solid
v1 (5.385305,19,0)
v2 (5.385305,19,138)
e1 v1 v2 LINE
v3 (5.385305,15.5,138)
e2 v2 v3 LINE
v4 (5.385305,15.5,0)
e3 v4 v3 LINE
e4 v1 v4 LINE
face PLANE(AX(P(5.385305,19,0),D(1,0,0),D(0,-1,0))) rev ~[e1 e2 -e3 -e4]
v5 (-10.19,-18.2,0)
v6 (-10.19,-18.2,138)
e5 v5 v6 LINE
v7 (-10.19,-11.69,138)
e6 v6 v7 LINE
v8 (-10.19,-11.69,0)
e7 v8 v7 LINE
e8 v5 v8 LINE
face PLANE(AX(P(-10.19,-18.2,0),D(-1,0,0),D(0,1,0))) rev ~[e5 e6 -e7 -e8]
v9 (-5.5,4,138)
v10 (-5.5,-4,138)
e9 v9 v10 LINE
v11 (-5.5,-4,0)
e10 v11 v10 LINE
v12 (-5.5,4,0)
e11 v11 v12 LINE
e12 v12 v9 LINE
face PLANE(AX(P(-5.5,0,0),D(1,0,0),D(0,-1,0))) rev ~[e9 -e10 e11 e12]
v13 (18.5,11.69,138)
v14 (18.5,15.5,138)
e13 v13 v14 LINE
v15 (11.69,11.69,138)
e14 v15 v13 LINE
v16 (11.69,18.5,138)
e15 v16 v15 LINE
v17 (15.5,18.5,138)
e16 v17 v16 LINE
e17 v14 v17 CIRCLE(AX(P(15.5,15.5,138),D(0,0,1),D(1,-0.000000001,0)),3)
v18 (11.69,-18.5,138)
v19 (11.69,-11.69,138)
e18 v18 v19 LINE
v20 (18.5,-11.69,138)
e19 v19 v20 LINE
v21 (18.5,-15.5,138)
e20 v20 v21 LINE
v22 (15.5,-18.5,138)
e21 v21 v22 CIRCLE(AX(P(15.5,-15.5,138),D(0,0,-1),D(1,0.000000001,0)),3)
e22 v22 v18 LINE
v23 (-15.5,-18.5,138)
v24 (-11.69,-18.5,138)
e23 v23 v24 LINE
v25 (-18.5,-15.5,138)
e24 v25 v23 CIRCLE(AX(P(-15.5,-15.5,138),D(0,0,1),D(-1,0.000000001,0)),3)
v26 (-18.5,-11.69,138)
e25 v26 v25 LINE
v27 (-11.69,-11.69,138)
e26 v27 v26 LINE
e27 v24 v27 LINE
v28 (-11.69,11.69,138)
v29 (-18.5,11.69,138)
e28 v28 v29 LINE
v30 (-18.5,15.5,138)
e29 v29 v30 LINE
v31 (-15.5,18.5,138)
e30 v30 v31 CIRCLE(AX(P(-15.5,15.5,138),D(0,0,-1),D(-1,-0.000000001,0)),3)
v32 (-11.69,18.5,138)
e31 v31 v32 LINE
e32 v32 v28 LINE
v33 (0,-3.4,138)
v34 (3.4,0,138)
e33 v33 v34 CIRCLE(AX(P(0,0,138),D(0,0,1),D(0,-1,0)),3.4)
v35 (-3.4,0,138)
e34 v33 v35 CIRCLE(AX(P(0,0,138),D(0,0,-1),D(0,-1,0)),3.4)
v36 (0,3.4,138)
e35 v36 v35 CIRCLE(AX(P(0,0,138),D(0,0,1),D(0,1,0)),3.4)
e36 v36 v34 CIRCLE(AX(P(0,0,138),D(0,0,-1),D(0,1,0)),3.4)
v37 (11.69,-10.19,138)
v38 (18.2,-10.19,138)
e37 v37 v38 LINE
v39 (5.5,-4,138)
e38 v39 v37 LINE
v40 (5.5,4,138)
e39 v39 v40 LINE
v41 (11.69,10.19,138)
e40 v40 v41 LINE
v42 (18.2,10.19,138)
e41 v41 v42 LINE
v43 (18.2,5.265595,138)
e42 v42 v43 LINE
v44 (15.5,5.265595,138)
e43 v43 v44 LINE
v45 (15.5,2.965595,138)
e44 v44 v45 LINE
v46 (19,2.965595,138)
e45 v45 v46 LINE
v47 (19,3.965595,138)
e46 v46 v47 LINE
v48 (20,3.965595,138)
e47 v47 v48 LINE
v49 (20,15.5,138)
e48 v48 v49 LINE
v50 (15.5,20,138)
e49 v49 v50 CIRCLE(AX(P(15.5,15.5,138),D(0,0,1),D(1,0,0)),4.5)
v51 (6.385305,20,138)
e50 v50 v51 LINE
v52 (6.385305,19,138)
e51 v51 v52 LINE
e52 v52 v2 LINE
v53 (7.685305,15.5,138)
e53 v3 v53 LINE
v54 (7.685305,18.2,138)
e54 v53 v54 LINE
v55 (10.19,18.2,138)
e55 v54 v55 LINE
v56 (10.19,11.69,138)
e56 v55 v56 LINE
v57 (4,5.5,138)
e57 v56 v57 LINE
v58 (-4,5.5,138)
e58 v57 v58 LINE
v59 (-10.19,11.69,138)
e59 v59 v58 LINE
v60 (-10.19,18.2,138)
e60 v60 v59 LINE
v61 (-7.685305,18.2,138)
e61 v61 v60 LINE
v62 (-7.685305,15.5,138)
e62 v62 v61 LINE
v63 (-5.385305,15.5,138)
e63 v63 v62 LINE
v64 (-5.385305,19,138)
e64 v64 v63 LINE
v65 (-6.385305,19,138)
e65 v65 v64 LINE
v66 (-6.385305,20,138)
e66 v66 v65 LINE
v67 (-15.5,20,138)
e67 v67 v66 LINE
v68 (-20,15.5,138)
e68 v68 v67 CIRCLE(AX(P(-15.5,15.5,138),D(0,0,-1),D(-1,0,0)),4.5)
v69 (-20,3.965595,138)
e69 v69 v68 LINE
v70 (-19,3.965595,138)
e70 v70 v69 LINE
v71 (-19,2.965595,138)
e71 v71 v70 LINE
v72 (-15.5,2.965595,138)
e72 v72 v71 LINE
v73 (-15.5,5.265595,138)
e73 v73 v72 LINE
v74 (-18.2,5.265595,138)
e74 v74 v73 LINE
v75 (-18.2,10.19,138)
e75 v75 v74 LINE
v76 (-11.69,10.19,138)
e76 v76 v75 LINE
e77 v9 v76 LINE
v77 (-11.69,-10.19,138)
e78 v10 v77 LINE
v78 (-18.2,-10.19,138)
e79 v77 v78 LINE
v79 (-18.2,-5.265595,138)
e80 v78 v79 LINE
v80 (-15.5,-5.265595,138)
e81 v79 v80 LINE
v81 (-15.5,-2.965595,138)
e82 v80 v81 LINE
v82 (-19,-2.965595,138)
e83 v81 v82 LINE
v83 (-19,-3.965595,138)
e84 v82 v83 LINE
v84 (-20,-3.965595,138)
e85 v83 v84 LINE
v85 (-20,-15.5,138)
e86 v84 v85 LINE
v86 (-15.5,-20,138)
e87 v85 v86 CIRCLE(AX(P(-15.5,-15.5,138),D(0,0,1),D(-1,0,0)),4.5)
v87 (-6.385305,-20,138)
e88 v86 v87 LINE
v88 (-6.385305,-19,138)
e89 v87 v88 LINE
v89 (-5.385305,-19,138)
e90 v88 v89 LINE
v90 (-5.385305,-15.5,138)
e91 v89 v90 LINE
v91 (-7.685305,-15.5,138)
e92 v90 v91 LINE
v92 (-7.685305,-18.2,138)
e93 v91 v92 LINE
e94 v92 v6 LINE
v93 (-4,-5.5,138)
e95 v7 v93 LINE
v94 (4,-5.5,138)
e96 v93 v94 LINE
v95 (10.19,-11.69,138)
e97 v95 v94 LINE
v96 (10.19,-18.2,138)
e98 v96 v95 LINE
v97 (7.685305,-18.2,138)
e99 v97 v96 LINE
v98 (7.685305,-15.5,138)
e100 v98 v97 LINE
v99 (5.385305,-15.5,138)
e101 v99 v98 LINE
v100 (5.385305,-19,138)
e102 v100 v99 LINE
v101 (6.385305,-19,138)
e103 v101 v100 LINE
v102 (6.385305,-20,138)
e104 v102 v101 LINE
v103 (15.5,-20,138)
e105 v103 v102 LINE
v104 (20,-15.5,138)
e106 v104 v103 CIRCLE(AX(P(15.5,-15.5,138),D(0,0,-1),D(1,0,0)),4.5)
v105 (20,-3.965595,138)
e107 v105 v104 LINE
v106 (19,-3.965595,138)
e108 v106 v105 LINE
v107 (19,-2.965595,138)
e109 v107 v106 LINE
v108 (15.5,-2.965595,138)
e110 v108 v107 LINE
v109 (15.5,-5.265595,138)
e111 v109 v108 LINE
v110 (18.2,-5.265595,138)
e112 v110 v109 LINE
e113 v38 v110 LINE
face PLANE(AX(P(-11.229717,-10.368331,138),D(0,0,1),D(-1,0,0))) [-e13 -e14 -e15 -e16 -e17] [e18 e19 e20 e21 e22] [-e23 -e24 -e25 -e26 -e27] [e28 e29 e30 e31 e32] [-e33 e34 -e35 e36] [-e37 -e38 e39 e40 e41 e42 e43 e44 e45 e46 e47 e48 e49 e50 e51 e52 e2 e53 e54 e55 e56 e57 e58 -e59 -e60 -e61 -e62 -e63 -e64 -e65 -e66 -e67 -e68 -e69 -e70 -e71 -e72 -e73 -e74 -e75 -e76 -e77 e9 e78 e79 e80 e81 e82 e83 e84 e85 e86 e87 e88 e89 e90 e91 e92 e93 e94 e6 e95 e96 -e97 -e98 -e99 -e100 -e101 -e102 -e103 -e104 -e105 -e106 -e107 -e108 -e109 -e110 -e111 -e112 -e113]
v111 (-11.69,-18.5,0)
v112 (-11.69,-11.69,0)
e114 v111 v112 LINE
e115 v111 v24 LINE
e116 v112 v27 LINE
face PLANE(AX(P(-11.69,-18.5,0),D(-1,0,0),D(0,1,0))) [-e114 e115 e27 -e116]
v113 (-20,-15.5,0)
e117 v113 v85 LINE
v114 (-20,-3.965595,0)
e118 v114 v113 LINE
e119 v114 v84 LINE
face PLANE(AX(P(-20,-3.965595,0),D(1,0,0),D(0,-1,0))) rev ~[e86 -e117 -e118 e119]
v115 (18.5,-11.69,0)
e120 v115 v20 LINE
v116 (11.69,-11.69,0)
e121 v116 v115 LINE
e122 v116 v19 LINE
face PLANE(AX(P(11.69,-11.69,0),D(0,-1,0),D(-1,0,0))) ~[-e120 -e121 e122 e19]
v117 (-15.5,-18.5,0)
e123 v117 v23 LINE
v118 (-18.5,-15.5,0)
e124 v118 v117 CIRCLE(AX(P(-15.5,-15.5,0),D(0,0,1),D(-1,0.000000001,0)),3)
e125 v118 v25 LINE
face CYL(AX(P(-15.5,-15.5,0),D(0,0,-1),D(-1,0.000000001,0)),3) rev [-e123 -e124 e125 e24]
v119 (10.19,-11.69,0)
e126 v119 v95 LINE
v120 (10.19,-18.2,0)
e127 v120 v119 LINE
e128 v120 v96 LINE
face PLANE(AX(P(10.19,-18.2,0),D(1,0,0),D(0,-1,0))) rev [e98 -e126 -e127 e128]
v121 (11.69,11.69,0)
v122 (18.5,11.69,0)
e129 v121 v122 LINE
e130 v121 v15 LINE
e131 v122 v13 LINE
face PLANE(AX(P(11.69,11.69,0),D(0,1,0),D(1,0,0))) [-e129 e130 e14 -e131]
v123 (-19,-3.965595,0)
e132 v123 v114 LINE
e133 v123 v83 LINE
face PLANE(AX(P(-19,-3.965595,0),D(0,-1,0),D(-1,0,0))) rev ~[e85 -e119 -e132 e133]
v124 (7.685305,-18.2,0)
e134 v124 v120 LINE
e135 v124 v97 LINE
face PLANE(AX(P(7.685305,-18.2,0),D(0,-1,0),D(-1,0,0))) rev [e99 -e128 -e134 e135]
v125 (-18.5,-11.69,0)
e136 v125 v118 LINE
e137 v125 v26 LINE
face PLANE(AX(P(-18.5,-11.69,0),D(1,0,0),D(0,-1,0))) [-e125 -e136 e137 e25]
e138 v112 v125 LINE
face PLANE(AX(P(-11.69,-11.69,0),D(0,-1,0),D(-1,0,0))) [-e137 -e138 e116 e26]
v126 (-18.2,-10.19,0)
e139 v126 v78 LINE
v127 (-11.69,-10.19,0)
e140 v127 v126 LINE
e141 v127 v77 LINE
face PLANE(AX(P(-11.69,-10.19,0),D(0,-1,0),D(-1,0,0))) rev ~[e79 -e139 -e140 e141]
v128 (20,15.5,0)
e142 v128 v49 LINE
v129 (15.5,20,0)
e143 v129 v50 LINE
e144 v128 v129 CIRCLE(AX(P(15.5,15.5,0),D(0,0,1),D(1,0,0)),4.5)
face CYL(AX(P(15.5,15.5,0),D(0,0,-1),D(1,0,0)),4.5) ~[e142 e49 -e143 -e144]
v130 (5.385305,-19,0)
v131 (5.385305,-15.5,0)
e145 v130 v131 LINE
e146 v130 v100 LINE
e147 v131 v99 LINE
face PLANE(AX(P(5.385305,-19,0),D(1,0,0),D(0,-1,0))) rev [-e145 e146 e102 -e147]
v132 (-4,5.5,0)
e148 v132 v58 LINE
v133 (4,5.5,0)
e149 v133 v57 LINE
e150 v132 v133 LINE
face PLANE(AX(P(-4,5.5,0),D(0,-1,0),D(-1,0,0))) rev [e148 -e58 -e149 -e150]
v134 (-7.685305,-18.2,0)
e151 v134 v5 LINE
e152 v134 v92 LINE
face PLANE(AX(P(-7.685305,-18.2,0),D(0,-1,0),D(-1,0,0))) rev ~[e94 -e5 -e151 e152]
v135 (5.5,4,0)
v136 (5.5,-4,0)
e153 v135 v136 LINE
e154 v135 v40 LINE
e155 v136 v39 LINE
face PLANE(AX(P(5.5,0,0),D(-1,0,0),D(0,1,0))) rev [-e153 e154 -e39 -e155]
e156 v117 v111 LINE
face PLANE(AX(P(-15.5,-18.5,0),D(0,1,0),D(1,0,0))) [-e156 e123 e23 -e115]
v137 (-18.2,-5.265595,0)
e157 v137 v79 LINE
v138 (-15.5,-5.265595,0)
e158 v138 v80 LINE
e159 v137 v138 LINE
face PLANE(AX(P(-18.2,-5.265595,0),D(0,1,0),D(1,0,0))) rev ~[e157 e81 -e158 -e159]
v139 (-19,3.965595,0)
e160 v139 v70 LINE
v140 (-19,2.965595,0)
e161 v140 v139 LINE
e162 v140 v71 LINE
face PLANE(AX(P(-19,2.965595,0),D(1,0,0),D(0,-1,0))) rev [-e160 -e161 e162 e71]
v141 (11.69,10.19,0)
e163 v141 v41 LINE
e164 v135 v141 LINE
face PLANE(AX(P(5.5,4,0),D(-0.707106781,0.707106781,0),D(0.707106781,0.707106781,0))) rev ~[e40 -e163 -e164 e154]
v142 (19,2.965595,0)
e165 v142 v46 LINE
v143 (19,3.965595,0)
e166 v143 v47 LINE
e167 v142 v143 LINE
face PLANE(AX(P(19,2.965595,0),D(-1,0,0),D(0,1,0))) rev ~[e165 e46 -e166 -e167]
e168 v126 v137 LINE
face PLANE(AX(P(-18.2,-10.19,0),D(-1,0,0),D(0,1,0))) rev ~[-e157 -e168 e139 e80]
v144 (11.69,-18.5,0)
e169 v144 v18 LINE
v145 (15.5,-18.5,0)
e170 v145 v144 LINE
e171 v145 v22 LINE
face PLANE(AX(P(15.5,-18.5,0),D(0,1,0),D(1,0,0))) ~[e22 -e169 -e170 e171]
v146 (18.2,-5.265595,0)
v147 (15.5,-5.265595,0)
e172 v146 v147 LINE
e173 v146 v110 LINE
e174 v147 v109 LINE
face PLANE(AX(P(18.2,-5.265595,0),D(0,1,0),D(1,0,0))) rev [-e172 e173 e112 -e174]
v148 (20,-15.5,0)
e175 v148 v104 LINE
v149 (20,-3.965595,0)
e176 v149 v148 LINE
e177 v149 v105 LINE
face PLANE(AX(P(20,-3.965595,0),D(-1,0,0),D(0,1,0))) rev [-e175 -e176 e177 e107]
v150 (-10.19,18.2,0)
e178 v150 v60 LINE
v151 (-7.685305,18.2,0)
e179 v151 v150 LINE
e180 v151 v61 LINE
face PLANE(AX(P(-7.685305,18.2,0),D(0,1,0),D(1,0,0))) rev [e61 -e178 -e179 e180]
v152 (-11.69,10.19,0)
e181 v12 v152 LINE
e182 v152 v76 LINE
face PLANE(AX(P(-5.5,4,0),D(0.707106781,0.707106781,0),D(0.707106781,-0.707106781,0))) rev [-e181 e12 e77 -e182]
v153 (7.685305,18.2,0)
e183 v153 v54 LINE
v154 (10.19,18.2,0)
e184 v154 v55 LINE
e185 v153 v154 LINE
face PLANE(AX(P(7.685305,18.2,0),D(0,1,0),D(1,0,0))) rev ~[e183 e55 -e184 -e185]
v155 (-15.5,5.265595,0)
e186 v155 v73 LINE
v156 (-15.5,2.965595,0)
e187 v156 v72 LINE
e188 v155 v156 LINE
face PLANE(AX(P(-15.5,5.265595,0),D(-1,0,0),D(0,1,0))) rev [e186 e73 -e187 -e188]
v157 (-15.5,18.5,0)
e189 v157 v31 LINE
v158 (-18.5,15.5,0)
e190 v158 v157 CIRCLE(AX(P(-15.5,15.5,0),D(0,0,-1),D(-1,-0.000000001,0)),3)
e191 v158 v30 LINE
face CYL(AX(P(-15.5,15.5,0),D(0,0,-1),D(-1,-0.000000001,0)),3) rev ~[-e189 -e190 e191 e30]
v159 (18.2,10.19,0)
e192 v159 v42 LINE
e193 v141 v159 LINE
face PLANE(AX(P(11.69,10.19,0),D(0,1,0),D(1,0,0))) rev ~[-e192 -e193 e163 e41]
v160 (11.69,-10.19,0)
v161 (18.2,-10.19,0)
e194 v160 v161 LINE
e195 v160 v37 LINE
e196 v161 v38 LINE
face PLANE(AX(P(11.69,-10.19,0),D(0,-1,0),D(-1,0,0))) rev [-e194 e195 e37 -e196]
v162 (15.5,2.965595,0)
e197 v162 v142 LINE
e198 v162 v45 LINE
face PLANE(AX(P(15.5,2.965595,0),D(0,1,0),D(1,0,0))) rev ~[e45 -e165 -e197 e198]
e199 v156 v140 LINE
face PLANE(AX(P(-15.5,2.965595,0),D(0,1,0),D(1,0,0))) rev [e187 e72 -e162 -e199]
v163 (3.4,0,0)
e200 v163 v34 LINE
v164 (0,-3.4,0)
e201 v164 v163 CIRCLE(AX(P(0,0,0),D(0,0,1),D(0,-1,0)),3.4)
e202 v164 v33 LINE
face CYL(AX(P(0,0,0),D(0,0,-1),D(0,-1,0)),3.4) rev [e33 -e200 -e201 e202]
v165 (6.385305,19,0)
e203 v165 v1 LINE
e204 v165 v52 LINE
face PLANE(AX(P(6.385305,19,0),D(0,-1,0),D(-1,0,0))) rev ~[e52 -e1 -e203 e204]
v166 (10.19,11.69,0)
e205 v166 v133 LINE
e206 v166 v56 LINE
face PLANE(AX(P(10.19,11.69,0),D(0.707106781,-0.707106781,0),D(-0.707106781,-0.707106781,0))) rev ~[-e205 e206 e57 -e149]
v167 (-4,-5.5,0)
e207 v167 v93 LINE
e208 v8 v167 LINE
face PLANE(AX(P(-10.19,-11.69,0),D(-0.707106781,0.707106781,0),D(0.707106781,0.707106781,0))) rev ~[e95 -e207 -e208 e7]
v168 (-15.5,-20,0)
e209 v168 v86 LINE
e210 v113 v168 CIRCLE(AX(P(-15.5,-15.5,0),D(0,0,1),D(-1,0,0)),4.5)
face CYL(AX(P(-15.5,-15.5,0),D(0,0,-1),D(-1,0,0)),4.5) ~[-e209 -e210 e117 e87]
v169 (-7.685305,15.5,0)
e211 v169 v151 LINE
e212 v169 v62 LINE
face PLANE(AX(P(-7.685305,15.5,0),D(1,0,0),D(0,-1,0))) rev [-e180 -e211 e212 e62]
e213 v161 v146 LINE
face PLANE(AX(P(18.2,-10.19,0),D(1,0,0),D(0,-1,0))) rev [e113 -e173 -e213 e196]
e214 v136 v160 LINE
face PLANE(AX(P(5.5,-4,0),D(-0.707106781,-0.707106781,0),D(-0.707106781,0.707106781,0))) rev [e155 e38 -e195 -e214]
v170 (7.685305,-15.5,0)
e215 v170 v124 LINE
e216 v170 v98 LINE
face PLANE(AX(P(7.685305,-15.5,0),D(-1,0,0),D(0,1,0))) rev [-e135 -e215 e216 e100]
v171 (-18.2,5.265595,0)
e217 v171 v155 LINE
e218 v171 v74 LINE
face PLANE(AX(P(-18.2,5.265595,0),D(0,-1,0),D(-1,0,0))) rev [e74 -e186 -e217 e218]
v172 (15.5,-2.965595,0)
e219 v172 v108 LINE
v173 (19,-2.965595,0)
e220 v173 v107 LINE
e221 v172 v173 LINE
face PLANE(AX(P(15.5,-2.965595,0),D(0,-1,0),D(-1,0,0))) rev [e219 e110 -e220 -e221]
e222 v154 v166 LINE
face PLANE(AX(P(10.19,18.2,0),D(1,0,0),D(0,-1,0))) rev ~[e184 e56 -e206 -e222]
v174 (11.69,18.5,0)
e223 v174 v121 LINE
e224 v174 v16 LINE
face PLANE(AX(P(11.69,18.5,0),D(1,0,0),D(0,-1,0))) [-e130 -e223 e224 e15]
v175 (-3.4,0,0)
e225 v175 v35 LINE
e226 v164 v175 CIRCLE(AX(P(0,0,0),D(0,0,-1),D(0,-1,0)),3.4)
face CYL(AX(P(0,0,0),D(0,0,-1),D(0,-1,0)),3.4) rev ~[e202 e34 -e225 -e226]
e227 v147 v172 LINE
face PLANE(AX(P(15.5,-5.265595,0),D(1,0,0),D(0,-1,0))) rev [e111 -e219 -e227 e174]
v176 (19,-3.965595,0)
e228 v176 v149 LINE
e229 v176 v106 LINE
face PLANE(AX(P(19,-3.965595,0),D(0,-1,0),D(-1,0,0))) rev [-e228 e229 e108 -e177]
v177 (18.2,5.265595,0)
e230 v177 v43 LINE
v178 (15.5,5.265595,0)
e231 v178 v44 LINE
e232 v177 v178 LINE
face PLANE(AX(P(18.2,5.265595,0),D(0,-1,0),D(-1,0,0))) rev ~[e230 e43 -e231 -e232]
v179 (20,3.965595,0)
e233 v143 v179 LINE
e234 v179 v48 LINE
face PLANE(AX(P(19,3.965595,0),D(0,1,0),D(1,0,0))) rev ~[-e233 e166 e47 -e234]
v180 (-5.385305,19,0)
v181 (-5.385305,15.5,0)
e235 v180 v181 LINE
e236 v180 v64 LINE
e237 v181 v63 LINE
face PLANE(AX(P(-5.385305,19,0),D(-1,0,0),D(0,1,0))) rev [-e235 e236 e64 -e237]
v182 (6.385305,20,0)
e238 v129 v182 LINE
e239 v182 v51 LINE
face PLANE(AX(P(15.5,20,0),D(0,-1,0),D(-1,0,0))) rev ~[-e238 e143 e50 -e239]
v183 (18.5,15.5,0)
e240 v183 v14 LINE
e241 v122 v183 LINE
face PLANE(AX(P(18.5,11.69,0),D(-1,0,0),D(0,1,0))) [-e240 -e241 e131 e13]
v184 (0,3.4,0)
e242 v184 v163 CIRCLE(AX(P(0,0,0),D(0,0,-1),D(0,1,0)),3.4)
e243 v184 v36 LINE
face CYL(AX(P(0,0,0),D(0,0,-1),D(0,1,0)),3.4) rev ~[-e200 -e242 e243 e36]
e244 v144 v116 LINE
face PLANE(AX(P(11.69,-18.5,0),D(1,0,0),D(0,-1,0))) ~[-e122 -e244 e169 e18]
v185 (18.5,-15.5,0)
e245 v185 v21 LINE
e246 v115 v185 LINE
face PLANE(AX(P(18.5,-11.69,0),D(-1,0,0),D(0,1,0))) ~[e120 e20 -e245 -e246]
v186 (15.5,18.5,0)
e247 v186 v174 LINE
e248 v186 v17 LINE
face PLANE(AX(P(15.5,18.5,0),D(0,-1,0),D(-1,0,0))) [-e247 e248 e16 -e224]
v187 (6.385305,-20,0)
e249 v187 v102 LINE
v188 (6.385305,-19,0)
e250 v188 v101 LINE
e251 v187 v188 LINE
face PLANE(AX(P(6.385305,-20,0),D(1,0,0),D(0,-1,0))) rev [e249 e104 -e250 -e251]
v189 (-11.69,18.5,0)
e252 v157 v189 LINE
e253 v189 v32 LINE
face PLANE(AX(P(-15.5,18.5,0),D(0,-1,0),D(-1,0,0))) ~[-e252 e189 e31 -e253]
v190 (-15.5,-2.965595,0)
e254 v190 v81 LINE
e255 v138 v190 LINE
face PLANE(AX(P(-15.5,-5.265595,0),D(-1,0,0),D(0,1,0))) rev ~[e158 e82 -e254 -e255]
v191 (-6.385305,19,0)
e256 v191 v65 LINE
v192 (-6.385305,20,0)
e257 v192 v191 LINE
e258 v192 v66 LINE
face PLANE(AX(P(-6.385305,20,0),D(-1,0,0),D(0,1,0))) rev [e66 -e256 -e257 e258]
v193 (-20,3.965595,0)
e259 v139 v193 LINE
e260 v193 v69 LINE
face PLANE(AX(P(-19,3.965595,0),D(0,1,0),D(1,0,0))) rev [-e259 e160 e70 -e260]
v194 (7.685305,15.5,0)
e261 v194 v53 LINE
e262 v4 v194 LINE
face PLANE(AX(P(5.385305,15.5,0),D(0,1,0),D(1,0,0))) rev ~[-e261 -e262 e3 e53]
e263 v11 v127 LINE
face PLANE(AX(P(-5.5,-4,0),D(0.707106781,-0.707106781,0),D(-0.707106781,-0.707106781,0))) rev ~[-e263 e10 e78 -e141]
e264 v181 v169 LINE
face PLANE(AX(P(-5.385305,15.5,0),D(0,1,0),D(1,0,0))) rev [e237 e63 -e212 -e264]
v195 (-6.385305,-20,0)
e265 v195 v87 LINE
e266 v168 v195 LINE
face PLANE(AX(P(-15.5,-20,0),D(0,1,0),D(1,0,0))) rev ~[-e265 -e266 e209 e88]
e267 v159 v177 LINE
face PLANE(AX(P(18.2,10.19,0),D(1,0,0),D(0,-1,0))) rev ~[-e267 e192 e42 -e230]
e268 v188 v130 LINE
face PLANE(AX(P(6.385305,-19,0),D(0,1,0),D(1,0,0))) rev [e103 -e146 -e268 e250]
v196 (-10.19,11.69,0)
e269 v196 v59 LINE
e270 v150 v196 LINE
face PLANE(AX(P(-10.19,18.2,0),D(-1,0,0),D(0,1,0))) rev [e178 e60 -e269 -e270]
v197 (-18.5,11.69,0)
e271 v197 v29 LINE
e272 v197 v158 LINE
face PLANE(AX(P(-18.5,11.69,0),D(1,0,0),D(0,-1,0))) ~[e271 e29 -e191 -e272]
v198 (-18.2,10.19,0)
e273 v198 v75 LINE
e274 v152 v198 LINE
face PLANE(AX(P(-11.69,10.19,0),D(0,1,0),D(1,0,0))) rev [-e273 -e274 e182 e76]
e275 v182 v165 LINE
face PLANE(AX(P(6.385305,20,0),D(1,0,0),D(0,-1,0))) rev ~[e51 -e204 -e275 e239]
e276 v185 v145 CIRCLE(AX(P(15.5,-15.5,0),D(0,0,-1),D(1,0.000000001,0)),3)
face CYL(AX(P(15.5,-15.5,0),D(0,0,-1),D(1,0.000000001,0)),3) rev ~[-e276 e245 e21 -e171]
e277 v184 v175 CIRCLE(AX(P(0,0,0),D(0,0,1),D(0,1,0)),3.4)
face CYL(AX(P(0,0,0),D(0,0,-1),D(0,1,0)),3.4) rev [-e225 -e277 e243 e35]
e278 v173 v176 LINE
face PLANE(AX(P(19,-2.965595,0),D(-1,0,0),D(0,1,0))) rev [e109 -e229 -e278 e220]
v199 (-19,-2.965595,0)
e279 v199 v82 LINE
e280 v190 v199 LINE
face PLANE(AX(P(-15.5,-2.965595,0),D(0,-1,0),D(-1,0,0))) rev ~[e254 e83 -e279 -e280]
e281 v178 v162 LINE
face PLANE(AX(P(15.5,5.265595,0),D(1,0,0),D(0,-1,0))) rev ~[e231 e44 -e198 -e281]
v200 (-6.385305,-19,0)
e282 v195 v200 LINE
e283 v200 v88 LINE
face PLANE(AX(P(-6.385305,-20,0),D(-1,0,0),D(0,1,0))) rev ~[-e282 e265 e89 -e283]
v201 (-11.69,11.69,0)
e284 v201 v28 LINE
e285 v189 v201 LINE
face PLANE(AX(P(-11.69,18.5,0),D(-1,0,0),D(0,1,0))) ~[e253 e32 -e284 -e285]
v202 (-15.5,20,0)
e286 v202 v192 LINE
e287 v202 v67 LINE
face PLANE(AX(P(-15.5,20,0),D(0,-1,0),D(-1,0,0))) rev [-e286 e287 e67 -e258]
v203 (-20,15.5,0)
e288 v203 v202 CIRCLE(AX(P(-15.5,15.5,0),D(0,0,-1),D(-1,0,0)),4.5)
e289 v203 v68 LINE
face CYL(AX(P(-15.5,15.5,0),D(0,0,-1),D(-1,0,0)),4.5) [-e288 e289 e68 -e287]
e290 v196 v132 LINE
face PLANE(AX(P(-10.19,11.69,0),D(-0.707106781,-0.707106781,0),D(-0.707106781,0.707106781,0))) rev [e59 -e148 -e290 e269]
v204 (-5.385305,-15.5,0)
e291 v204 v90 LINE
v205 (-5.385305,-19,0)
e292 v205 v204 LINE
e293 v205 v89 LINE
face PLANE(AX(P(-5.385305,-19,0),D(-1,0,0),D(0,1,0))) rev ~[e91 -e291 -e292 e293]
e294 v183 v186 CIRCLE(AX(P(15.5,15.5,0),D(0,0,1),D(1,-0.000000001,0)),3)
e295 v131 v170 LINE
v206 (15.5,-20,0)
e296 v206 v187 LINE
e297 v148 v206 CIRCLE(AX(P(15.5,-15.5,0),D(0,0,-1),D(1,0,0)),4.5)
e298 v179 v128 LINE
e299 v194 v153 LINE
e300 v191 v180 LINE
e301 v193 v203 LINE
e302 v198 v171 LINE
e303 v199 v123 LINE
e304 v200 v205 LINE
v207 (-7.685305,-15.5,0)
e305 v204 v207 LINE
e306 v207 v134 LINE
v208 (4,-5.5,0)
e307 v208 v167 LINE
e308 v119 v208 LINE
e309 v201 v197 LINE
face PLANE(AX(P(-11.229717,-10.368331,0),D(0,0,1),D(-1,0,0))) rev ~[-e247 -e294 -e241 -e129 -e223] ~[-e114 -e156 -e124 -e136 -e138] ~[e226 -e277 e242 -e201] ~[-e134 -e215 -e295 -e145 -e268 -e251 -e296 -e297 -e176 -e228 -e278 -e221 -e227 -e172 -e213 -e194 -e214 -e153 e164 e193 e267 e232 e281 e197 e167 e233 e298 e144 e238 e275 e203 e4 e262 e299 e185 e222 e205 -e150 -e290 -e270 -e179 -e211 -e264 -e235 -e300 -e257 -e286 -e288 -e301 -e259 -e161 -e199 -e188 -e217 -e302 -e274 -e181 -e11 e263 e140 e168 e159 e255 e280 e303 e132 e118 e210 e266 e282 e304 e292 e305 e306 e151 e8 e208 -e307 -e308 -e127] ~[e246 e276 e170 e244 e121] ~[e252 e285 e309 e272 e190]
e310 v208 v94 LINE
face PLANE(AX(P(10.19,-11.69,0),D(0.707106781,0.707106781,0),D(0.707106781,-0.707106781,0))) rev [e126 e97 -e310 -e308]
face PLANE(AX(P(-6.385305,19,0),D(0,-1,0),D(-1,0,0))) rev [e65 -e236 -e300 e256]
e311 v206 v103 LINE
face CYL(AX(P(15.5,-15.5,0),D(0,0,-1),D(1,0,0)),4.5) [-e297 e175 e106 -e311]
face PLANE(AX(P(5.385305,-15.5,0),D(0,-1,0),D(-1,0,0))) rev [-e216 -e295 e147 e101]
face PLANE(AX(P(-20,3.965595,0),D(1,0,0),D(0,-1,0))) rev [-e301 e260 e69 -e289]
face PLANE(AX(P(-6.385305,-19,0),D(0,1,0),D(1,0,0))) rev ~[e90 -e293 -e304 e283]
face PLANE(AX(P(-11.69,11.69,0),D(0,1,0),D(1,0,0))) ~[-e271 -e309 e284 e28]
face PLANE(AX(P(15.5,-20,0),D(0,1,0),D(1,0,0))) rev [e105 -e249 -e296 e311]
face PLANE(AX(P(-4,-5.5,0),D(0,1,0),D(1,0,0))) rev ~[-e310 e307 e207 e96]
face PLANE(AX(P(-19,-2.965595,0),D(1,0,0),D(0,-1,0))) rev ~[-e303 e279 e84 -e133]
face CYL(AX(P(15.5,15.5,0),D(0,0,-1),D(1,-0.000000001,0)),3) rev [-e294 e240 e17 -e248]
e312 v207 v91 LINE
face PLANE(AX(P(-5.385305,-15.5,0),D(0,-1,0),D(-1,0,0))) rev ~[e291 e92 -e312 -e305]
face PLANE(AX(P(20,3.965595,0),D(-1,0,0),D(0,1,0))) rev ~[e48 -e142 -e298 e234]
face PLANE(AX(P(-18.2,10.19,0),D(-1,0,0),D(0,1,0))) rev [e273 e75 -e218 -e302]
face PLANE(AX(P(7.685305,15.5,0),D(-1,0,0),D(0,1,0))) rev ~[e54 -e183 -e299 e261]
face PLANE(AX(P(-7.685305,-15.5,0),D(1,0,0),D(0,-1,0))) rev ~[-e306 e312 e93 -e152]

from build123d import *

# Parameters (mm, degrees)
BOSS_EXTRUDE1_DEPTH  = 138
MIRROR3_COPY_1_DEPTH = 138
MIRROR3_COPY_2_DEPTH = 138


with BuildPart() as part:
    # Sketch1 → Boss-Extrude1 (new body)
    with BuildSketch(Plane.XY):
        with BuildLine():
            Line((3.4, 0), (5.5, 0))
            Line((5.5, 0), (5.5, 4))
            Line((5.5, 4), (11.69, 10.19))
            Line((11.69, 10.19), (18.2, 10.19))
            Line((18.2, 10.19), (18.2, 5.265595036))
            Line((18.2, 5.265595036), (15.5, 5.265595036))
            Line((15.5, 5.265595036), (15.5, 2.965595036))
            Line((15.5, 2.965595036), (19, 2.965595036))
            Line((19, 2.965595036), (19, 3.965595036))
            Line((19, 3.965595036), (20, 3.965595036))
            Line((20, 3.965595036), (20, 15.5))
            ThreePointArc((20, 15.5), (18.681980515, 18.681980515), (15.5, 20))
            Line((15.5, 20), (6.385304712, 20))
            Line((6.385304712, 20), (6.385304712, 19))
            Line((6.385304712, 19), (5.385304712, 19))
            Line((5.385304712, 19), (5.385304712, 15.5))
            Line((5.385304712, 15.5), (7.685304712, 15.5))
            Line((7.685304712, 15.5), (7.685304712, 18.2))
            Line((7.685304712, 18.2), (10.19, 18.2))
            Line((10.19, 18.2), (10.19, 11.69))
            Line((10.19, 11.69), (4, 5.5))
            Line((4, 5.5), (0, 5.5))
            Line((0, 5.5), (0, 3.4))
            ThreePointArc((0, 3.4), (2.404163056, 2.404163056), (3.4, 0))
        make_face()
        with BuildLine():
            Line((18.5, 11.69), (18.5, 15.5))
            ThreePointArc((18.5, 15.5), (17.621320344, 17.621320344), (15.5, 18.5))
            Line((15.5, 18.5), (11.69, 18.5))
            Line((11.69, 18.5), (11.69, 11.69))
            Line((11.69, 11.69), (18.5, 11.69))
        make_face(mode=Mode.SUBTRACT)
    boss_extrude1 = extrude(amount=BOSS_EXTRUDE1_DEPTH)

    # Mirror1: Boss-Extrude1 across plane
    add(boss_extrude1.mirror(Plane.ZX))

    # Mirror2: Boss-Extrude1 across plane
    add(boss_extrude1.mirror(Plane(origin=(0, 0, 0), x_dir=(0, 0, 1), z_dir=(1, 0, 0))))

    # Mirror3 copy 1 sketch → Mirror3 copy 1 (add)
    with BuildSketch(Plane(origin=(0, 0, 0), x_dir=(-1, 0, 0), z_dir=(0, 0, 1))):
        with BuildLine():
            Line((3.4, 0), (5.5, 0))
            Line((5.5, 0), (5.5, 4))
            Line((5.5, 4), (11.69, 10.19))
            Line((11.69, 10.19), (18.2, 10.19))
            Line((18.2, 10.19), (18.2, 5.265595036))
            Line((18.2, 5.265595036), (15.5, 5.265595036))
            Line((15.5, 5.265595036), (15.5, 2.965595036))
            Line((15.5, 2.965595036), (19, 2.965595036))
            Line((19, 2.965595036), (19, 3.965595036))
            Line((19, 3.965595036), (20, 3.965595036))
            Line((20, 3.965595036), (20, 15.5))
            ThreePointArc((20, 15.5), (18.681980515, 18.681980515), (15.5, 20))
            Line((15.5, 20), (6.385304712, 20))
            Line((6.385304712, 20), (6.385304712, 19))
            Line((6.385304712, 19), (5.385304712, 19))
            Line((5.385304712, 19), (5.385304712, 15.5))
            Line((5.385304712, 15.5), (7.685304712, 15.5))
            Line((7.685304712, 15.5), (7.685304712, 18.2))
            Line((7.685304712, 18.2), (10.19, 18.2))
            Line((10.19, 18.2), (10.19, 11.69))
            Line((10.19, 11.69), (4, 5.5))
            Line((4, 5.5), (0, 5.5))
            Line((0, 5.5), (0, 3.4))
            ThreePointArc((0, 3.4), (2.404163056, 2.404163056), (3.4, 0))
        make_face()
        with BuildLine():
            Line((18.5, 11.69), (18.5, 15.5))
            ThreePointArc((18.5, 15.5), (17.621320344, 17.621320344), (15.5, 18.5))
            Line((15.5, 18.5), (11.69, 18.5))
            Line((11.69, 18.5), (11.69, 11.69))
            Line((11.69, 11.69), (18.5, 11.69))
        make_face(mode=Mode.SUBTRACT)
    extrude(amount=MIRROR3_COPY_1_DEPTH)

    # Mirror3 copy 2 sketch → Mirror3 copy 2 (add)
    with BuildSketch(Plane.XY):
        with BuildLine():
            Line((3.4, 0), (5.5, 0))
            Line((5.5, 0), (5.5, -4))
            Line((5.5, -4), (11.69, -10.19))
            Line((11.69, -10.19), (18.2, -10.19))
            Line((18.2, -10.19), (18.2, -5.265595036))
            Line((18.2, -5.265595036), (15.5, -5.265595036))
            Line((15.5, -5.265595036), (15.5, -2.965595036))
            Line((15.5, -2.965595036), (19, -2.965595036))
            Line((19, -2.965595036), (19, -3.965595036))
            Line((19, -3.965595036), (20, -3.965595036))
            Line((20, -3.965595036), (20, -15.5))
            ThreePointArc((20, -15.5), (18.681980515, -18.681980515), (15.5, -20))
            Line((15.5, -20), (6.385304712, -20))
            Line((6.385304712, -20), (6.385304712, -19))
            Line((6.385304712, -19), (5.385304712, -19))
            Line((5.385304712, -19), (5.385304712, -15.5))
            Line((5.385304712, -15.5), (7.685304712, -15.5))
            Line((7.685304712, -15.5), (7.685304712, -18.2))
            Line((7.685304712, -18.2), (10.19, -18.2))
            Line((10.19, -18.2), (10.19, -11.69))
            Line((10.19, -11.69), (4, -5.5))
            Line((4, -5.5), (0, -5.5))
            Line((0, -5.5), (0, -3.4))
            ThreePointArc((0, -3.4), (2.404163056, -2.404163056), (3.4, 0))
        make_face()
        with BuildLine():
            Line((18.5, -11.69), (18.5, -15.5))
            ThreePointArc((18.5, -15.5), (17.621320344, -17.621320344), (15.5, -18.5))
            Line((15.5, -18.5), (11.69, -18.5))
            Line((11.69, -18.5), (11.69, -11.69))
            Line((11.69, -11.69), (18.5, -11.69))
        make_face(mode=Mode.SUBTRACT)
    extrude(amount=MIRROR3_COPY_2_DEPTH)


solid = part.part
